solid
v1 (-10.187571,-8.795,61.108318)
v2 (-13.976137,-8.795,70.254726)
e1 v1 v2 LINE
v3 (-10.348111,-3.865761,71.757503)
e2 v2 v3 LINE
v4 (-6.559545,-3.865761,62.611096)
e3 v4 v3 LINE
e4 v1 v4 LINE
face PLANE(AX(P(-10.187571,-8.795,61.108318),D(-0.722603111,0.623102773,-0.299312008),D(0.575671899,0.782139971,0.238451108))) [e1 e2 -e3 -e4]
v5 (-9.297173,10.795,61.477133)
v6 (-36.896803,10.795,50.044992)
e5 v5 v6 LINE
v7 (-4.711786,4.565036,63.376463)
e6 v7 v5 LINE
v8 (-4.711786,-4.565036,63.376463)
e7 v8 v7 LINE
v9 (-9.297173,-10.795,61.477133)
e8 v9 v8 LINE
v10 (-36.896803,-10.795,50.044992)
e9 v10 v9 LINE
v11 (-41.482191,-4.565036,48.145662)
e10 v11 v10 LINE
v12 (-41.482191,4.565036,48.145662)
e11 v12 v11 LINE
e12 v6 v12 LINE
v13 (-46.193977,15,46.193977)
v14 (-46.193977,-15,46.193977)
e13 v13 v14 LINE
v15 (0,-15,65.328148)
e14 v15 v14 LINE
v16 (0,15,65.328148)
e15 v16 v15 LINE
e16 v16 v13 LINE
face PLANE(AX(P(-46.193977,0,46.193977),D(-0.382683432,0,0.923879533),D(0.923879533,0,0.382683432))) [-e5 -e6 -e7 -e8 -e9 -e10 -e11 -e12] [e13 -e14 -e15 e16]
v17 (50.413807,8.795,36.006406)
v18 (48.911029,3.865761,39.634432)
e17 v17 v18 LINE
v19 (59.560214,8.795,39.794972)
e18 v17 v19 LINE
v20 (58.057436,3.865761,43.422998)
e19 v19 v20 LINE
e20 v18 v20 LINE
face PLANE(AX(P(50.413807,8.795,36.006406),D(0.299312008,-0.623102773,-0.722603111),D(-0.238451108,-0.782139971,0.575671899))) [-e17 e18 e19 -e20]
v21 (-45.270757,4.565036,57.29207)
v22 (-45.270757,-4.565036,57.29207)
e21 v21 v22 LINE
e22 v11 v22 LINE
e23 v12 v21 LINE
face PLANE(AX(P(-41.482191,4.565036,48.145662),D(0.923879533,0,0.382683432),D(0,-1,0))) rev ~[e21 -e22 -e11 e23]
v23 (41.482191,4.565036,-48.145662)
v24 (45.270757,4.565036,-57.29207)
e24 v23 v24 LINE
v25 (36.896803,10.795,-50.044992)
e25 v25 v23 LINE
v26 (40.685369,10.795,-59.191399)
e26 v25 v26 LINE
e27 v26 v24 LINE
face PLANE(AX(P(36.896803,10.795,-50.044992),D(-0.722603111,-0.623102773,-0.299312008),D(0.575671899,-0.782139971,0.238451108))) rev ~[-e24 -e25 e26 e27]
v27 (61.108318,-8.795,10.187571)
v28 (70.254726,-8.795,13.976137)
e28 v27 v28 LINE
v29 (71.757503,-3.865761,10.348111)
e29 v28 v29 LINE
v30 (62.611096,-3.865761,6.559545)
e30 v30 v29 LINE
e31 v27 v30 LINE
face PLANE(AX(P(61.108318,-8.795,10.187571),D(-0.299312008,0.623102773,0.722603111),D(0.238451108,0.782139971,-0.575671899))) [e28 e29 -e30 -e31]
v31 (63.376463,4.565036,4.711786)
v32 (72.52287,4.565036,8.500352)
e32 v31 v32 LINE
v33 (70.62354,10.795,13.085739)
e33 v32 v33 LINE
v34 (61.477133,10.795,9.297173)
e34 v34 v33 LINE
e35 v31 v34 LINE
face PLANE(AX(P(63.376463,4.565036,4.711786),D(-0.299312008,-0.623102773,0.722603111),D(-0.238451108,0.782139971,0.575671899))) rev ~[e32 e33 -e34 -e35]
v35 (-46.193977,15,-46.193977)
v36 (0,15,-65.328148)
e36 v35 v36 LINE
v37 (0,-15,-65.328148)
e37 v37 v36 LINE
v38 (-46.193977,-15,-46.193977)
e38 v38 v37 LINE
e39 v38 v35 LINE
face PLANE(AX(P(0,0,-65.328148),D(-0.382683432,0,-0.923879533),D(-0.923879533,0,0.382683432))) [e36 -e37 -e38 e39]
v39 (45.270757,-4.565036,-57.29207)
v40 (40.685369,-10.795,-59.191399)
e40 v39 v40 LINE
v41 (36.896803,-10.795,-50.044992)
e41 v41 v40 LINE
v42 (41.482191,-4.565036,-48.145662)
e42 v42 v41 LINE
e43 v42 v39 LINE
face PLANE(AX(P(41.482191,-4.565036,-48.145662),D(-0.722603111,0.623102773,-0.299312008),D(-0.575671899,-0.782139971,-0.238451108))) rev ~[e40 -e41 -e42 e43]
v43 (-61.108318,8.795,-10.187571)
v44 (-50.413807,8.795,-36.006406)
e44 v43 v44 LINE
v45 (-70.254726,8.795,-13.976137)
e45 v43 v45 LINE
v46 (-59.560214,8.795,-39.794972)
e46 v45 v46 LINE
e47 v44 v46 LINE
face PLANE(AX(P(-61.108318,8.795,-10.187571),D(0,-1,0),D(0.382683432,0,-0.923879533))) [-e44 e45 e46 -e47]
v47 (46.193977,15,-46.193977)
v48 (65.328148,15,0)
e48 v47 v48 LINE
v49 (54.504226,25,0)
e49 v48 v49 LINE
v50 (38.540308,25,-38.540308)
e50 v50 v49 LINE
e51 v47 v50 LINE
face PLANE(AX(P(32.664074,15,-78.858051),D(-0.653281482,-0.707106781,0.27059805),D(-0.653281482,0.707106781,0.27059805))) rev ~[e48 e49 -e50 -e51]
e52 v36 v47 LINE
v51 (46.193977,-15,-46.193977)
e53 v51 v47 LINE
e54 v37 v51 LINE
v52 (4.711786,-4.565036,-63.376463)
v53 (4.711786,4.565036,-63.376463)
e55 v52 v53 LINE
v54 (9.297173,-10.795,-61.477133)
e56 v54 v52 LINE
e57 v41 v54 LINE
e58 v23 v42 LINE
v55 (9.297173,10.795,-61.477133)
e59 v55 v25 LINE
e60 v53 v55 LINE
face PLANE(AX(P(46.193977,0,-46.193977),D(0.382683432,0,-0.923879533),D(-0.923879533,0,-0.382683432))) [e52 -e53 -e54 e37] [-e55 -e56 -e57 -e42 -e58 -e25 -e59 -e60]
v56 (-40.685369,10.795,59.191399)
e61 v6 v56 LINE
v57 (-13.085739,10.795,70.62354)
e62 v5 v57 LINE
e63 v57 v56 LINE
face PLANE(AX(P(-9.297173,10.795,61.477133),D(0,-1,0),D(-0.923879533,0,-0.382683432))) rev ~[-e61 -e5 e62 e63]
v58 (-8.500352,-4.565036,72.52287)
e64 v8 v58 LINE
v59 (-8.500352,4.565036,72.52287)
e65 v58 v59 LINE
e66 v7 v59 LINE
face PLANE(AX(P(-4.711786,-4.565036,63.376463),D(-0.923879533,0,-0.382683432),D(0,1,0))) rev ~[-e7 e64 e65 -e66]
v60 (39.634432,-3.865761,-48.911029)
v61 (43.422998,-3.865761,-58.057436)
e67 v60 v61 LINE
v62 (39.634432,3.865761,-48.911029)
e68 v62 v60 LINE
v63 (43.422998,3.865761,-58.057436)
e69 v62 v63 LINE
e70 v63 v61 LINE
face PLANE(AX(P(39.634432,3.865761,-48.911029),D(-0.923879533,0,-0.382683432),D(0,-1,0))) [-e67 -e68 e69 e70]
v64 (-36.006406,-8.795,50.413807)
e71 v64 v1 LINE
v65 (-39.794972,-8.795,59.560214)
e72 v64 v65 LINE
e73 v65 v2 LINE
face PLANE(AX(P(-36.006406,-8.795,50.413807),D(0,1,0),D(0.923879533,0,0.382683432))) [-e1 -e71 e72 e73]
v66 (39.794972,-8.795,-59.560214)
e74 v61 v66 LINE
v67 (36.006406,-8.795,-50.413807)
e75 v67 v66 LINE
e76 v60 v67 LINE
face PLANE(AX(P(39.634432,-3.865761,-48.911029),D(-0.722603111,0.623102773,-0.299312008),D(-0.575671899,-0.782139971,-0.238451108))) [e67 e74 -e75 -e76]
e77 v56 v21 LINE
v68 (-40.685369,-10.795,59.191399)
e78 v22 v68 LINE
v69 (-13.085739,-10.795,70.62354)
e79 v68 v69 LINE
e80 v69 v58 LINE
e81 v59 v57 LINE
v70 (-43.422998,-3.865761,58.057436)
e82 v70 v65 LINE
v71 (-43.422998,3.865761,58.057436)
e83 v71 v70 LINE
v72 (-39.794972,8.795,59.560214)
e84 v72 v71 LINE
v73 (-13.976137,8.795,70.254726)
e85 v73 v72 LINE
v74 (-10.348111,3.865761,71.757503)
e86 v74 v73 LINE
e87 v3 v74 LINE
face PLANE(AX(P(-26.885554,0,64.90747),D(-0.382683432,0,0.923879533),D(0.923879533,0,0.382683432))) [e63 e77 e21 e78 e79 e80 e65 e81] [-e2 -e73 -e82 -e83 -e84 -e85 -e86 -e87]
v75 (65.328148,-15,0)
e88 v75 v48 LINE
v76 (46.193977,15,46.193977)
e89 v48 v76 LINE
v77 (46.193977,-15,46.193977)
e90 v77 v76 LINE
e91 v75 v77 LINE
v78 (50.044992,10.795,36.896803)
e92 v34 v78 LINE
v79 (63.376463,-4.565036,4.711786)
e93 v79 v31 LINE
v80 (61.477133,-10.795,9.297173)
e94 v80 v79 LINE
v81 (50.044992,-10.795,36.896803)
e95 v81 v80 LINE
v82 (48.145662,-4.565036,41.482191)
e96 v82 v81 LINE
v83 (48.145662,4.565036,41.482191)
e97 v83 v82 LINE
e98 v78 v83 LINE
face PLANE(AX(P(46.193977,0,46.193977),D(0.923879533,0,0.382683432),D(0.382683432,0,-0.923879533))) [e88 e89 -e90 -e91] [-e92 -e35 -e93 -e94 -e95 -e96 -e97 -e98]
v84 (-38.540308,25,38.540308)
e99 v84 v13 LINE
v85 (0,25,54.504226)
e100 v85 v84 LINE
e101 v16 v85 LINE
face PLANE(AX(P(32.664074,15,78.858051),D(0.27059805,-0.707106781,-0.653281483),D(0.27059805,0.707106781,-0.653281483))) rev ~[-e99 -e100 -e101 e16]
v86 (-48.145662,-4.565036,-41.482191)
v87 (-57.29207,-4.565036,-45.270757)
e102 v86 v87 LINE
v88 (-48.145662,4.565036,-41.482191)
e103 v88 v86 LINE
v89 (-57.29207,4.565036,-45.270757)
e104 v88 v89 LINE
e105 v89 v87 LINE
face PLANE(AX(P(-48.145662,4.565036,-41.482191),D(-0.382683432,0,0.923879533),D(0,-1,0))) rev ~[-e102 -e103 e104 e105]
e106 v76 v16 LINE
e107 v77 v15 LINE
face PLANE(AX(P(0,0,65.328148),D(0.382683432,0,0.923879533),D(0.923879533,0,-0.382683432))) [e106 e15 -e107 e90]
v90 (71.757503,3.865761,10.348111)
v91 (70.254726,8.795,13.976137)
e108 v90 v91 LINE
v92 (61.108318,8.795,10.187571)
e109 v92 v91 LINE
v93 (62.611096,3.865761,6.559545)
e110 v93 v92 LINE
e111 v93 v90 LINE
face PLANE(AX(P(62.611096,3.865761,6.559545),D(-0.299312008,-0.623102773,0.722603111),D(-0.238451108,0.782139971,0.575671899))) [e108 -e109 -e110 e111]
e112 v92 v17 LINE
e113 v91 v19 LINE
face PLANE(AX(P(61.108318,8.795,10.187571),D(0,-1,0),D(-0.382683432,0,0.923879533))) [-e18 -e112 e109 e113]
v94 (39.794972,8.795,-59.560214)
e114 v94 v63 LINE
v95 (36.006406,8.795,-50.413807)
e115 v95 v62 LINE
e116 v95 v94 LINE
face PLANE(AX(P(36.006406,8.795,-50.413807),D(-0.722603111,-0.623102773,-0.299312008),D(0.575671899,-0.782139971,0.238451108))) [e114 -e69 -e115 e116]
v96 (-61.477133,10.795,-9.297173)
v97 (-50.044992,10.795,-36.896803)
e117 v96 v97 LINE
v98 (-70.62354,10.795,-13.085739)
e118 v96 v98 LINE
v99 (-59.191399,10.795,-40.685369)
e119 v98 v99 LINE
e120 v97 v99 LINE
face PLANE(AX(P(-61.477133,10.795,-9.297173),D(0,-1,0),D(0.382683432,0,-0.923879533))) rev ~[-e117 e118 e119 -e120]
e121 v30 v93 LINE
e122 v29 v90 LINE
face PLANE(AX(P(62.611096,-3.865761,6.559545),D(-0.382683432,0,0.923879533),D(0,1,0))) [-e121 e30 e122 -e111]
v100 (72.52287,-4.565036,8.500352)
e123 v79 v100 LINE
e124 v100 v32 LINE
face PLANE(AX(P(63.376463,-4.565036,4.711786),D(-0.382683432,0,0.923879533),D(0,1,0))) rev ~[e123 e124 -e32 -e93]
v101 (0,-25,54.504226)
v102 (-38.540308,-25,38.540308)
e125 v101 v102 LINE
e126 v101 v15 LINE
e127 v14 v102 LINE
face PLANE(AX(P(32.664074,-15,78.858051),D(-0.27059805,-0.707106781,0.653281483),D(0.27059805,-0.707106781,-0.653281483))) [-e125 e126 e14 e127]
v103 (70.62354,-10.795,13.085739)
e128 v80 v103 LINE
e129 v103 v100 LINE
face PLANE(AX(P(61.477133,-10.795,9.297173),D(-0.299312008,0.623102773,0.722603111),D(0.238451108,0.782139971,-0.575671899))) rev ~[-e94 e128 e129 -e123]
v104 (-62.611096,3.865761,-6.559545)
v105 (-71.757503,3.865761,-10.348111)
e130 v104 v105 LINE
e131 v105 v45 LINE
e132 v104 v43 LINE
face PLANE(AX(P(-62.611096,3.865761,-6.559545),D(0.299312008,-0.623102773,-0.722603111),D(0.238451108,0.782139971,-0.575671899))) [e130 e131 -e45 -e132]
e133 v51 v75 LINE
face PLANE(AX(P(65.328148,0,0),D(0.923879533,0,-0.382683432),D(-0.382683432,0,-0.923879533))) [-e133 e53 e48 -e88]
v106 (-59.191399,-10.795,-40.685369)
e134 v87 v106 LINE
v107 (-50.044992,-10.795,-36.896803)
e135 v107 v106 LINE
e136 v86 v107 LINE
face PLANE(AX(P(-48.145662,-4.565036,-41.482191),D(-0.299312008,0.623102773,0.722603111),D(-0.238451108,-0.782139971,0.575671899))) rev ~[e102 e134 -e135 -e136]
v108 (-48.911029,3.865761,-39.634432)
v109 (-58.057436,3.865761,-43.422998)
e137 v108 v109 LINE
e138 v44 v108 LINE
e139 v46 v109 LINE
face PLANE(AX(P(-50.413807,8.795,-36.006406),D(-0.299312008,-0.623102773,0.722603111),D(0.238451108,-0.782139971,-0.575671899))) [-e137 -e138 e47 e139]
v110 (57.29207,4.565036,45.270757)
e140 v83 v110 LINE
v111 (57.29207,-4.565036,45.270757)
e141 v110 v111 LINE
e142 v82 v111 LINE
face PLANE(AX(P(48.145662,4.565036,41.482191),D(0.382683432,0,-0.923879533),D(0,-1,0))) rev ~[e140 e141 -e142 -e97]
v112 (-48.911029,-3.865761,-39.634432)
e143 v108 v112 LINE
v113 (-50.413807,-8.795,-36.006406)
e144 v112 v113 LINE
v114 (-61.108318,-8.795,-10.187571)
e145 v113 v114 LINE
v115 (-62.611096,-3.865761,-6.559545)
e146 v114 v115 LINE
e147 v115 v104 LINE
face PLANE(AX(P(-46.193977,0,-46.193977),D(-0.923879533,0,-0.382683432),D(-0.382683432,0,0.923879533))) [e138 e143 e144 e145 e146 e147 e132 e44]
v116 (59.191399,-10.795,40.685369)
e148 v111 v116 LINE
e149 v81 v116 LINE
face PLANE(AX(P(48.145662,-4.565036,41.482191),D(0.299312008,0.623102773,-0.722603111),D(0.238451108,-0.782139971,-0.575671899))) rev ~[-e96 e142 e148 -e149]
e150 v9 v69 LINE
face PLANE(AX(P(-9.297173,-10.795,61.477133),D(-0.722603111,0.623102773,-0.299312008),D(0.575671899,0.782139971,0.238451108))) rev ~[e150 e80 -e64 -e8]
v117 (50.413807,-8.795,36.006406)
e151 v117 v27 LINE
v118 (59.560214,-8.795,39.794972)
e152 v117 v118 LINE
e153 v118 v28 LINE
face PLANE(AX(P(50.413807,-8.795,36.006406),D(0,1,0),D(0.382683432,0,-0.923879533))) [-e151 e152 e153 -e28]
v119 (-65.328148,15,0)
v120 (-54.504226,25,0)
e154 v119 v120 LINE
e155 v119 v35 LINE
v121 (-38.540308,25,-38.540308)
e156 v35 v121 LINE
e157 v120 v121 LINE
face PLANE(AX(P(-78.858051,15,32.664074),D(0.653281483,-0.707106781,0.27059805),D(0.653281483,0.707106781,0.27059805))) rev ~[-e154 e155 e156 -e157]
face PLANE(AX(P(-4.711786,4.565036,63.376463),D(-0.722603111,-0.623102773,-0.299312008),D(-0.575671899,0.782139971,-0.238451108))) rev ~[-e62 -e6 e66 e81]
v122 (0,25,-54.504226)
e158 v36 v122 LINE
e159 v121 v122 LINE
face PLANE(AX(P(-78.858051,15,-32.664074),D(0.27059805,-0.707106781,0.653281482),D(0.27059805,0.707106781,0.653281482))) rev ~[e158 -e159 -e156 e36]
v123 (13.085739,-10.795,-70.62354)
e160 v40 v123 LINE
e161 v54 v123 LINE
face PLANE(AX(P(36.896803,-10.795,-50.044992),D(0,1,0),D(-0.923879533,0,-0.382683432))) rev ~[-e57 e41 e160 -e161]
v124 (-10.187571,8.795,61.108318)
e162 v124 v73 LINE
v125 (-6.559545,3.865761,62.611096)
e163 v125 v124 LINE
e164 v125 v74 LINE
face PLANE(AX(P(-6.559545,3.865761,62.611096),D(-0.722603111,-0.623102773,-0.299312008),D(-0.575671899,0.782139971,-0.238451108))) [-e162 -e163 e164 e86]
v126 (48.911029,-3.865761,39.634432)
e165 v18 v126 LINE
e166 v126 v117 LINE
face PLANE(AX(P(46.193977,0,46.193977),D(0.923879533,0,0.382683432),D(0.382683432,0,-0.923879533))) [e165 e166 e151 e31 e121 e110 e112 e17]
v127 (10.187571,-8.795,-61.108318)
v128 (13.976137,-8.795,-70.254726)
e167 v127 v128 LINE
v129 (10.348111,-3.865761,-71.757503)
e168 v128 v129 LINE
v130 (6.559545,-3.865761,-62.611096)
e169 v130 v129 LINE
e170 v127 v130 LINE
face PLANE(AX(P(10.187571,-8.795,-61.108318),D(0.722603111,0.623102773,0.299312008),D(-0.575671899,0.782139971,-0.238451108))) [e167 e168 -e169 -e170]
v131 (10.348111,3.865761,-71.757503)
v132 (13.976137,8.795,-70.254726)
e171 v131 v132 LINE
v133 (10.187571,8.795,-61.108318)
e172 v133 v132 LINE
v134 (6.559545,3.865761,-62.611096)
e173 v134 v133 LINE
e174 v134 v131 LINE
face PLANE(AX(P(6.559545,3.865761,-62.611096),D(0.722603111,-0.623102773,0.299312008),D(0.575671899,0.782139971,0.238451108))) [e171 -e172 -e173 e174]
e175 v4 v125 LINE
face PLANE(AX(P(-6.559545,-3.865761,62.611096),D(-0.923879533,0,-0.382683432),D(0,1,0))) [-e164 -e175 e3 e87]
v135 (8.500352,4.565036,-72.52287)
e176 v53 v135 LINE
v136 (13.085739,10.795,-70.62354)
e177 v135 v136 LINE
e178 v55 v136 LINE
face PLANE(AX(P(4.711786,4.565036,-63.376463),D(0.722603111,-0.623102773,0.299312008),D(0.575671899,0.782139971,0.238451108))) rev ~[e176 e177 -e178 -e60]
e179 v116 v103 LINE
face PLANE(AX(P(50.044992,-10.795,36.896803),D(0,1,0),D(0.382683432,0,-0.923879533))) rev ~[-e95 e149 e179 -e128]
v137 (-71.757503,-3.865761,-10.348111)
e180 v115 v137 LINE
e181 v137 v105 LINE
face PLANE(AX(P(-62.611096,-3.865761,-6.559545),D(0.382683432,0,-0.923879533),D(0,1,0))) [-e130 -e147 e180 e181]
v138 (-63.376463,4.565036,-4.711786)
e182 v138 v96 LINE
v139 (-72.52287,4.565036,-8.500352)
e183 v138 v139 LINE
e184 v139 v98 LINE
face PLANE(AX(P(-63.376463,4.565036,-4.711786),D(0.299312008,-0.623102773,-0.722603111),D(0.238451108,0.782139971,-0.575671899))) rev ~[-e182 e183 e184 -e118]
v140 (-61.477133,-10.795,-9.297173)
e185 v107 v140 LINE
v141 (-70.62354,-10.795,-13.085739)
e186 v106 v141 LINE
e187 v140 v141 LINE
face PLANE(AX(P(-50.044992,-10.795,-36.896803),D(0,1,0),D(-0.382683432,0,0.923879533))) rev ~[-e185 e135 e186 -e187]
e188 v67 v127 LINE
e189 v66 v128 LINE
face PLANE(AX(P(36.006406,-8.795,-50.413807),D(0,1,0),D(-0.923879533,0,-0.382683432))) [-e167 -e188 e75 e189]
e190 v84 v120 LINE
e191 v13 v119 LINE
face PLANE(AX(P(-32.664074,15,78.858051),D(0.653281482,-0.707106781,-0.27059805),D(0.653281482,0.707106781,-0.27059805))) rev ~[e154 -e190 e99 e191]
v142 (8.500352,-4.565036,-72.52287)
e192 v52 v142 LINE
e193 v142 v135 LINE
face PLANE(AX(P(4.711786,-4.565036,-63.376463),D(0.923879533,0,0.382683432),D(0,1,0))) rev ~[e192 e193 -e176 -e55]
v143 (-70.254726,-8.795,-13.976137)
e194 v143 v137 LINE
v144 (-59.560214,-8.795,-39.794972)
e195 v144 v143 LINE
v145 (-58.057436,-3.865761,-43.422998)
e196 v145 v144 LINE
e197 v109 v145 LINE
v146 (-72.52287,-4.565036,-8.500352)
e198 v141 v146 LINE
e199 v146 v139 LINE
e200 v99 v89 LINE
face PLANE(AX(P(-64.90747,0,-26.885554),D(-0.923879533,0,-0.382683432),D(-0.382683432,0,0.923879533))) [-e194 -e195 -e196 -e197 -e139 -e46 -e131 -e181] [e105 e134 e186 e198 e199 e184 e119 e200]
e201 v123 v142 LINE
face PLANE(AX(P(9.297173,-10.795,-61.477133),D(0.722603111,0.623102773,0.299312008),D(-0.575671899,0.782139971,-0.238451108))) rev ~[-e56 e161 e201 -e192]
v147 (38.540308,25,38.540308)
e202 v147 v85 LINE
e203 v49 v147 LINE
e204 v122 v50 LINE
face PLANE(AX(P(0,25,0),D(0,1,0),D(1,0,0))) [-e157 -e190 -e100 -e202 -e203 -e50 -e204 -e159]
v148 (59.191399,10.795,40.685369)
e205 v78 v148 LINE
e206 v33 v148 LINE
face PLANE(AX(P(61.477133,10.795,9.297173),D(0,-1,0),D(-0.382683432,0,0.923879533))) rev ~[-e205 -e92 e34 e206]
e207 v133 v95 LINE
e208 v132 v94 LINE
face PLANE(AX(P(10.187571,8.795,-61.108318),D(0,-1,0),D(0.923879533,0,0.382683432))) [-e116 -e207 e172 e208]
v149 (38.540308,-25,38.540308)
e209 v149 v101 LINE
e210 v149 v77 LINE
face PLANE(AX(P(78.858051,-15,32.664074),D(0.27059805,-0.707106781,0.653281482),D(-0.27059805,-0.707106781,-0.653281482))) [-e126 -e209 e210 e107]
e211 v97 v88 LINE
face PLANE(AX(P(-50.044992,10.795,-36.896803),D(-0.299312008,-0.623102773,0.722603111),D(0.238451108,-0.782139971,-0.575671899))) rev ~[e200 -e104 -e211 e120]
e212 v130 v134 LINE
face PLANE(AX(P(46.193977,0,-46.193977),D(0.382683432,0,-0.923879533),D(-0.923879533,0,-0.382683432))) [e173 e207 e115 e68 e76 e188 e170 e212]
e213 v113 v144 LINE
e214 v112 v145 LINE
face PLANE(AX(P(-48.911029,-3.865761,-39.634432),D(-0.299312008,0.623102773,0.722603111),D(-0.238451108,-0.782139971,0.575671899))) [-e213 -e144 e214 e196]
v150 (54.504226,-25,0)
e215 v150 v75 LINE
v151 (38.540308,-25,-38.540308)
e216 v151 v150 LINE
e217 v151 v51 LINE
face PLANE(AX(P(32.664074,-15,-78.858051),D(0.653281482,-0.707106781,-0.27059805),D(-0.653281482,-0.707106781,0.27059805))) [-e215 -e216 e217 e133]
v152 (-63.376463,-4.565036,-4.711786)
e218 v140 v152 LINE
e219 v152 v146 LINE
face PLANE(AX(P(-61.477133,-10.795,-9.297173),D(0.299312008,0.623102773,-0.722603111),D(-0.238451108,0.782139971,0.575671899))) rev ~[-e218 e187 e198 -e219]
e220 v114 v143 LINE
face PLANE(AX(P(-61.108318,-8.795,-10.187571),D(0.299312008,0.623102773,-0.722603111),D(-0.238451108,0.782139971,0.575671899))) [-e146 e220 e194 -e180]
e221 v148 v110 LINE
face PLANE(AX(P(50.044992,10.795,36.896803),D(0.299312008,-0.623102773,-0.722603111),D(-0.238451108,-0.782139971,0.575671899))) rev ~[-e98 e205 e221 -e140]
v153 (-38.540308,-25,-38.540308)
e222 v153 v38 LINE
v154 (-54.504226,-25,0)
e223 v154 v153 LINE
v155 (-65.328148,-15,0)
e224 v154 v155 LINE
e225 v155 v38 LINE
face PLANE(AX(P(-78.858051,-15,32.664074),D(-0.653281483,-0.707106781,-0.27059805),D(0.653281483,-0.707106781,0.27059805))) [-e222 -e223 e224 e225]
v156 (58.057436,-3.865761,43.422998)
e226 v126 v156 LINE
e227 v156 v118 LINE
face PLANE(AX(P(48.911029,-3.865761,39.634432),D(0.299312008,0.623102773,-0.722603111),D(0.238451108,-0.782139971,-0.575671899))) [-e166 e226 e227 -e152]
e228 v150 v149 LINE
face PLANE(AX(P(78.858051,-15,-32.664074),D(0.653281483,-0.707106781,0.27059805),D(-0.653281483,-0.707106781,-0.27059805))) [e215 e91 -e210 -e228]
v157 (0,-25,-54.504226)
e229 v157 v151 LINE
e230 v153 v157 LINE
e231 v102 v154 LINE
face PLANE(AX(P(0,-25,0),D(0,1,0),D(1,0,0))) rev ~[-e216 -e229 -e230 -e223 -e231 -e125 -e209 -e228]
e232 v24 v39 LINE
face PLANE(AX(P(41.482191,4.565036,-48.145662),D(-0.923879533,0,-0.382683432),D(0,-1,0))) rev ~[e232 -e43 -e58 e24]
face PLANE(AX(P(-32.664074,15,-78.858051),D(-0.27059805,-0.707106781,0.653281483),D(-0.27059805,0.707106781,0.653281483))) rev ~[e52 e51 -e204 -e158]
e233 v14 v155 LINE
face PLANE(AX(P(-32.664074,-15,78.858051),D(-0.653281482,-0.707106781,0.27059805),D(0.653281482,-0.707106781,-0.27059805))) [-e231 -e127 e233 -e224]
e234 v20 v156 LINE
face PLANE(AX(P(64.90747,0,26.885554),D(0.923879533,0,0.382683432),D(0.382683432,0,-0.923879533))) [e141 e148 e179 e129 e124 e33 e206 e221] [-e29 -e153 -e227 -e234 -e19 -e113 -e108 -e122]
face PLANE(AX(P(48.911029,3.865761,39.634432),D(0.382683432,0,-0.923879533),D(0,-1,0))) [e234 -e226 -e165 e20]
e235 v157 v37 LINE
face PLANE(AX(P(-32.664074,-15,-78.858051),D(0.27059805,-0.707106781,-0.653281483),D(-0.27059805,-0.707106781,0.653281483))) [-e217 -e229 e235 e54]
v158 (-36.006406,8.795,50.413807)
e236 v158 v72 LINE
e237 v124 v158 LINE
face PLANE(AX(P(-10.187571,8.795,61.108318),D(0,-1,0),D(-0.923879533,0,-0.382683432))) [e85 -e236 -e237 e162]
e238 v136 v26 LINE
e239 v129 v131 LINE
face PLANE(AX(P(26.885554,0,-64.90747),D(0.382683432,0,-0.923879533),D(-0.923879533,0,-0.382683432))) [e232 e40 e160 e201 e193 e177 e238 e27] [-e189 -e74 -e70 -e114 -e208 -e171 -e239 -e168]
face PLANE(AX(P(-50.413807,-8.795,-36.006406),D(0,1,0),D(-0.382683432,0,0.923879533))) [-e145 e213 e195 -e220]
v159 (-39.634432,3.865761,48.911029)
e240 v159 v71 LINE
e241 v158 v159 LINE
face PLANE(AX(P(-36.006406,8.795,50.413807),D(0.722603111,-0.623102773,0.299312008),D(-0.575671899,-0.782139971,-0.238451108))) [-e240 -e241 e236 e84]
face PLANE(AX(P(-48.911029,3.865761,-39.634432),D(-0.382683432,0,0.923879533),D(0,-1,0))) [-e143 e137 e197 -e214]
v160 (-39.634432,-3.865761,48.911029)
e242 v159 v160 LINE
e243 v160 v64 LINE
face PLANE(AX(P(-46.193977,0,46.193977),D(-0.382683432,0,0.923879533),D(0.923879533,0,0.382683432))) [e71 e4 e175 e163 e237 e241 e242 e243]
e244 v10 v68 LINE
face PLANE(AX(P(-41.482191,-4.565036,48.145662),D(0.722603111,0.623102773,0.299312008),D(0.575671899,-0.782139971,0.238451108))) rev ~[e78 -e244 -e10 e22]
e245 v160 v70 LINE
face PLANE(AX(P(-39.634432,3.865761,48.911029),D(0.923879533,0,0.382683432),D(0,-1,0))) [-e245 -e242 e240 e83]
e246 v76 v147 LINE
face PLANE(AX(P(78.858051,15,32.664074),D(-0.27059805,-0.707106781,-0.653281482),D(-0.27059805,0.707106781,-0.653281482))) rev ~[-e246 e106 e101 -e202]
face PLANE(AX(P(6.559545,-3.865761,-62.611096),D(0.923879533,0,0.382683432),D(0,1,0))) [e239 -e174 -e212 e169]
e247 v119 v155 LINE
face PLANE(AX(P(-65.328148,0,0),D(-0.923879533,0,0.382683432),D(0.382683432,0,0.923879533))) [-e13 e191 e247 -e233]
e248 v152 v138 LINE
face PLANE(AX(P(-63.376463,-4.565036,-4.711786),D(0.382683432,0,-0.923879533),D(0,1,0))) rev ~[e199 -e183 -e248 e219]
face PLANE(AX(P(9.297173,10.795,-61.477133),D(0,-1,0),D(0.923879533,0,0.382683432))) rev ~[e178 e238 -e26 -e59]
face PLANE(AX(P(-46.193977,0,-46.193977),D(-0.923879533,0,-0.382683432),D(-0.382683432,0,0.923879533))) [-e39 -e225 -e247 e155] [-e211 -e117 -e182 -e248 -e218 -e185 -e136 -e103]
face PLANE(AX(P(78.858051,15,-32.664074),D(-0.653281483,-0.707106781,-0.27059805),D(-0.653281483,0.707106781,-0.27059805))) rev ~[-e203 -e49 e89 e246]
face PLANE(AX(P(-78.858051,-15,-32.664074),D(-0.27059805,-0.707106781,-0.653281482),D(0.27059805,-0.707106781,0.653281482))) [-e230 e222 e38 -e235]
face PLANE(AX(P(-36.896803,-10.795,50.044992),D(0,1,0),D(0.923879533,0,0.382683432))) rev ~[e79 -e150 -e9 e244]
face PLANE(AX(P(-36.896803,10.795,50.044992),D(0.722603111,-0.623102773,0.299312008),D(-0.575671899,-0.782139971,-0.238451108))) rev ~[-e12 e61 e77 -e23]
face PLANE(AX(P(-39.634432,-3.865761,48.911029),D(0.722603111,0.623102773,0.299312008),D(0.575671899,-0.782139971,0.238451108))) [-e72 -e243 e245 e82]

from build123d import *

# Parameters (mm, degrees)
EXTRUDE_1_DEPTH          = 25
CUT_EXTRUDE_1_DEPTH      = 153.008558041
PATTERN_CIRCULAR_1_COUNT = 8
EXTRUDE_1_2_DEPTH        = 9.9
PATTERN_CIRCULAR_2_COUNT = 4


with BuildPart() as part:
    # 草图1 → Extrude 1 (new, symmetric)
    with BuildSketch(Plane(origin=(0, 0, 0), x_dir=(1, 0, 0), z_dir=(0, 1, 0))):
        Polygon((0, -65.328148244), (46.193976626, -46.193976626), (65.328148244, 0), (46.193976626, 46.193976626), (0, 65.328148244), (-46.193976626, 46.193976626), (-65.328148244, 0), (-46.193976626, -46.193976626), align=None)
    extrude(amount=EXTRUDE_1_DEPTH, both=True)

    # 草图2 → 切除-拉伸1 (cut, through all)
    with BuildSketch(Plane(origin=(55.761062435, 0, 23.096988313), x_dir=(0.38268343236508157, 0, -0.9238795325112902), z_dir=(0.9238795325112902, 0, 0.38268343236508157))):
        Polygon((-60.355339059, 25), (-60.355339059, 15), (-50.355339059, 25), align=None)
        Polygon((-60.355339059, -25), (-60.355339059, -15), (-50.355339059, -25), align=None)
    cut_extrude_1 = extrude(amount=-CUT_EXTRUDE_1_DEPTH, mode=Mode.SUBTRACT)

    # 阵列(圆周)1: 切除-拉伸1 ×8 about axis
    pattern_circular_1_axis = Axis((0, -27.5, 0), (0, 1, 0))
    for i in range(1, PATTERN_CIRCULAR_1_COUNT):
        add(cut_extrude_1.rotate(pattern_circular_1_axis, i * 360 / PATTERN_CIRCULAR_1_COUNT), mode=Mode.SUBTRACT)

    # 草图3 → Extrude 1 2 (add)
    with BuildSketch(Plane(origin=(-55.761062435, 0, -23.096988313), x_dir=(-0.3826834323650816, 0, 0.9238795325112902), z_dir=(-0.9238795325112902, 0, -0.3826834323650816))):
        Polygon((19.9, 4.565036261), (14.936812049, 10.795), (-14.936812049, 10.795), (-19.9, 4.565036261), (-19.9, -4.565036261), (-14.936812049, -10.795), (14.936812049, -10.795), (19.9, -4.565036261), align=None)
        Polygon((17.9, 3.865761475), (13.973053026, 8.795), (-13.973053026, 8.795), (-17.9, 3.865761475), (-17.9, -3.865761475), (-13.973053026, -8.795), (13.973053026, -8.795), (17.9, -3.865761475), align=None, mode=Mode.SUBTRACT)
    extrude_1_2 = extrude(amount=EXTRUDE_1_2_DEPTH)

    # 阵列(圆周)2: Extrude 1 2 ×4 about axis
    pattern_circular_2_axis = Axis((0, -27.5, 0), (0, 1, 0))
    for i in range(1, PATTERN_CIRCULAR_2_COUNT):
        add(extrude_1_2.rotate(pattern_circular_2_axis, i * 360 / PATTERN_CIRCULAR_2_COUNT))


solid = part.part
